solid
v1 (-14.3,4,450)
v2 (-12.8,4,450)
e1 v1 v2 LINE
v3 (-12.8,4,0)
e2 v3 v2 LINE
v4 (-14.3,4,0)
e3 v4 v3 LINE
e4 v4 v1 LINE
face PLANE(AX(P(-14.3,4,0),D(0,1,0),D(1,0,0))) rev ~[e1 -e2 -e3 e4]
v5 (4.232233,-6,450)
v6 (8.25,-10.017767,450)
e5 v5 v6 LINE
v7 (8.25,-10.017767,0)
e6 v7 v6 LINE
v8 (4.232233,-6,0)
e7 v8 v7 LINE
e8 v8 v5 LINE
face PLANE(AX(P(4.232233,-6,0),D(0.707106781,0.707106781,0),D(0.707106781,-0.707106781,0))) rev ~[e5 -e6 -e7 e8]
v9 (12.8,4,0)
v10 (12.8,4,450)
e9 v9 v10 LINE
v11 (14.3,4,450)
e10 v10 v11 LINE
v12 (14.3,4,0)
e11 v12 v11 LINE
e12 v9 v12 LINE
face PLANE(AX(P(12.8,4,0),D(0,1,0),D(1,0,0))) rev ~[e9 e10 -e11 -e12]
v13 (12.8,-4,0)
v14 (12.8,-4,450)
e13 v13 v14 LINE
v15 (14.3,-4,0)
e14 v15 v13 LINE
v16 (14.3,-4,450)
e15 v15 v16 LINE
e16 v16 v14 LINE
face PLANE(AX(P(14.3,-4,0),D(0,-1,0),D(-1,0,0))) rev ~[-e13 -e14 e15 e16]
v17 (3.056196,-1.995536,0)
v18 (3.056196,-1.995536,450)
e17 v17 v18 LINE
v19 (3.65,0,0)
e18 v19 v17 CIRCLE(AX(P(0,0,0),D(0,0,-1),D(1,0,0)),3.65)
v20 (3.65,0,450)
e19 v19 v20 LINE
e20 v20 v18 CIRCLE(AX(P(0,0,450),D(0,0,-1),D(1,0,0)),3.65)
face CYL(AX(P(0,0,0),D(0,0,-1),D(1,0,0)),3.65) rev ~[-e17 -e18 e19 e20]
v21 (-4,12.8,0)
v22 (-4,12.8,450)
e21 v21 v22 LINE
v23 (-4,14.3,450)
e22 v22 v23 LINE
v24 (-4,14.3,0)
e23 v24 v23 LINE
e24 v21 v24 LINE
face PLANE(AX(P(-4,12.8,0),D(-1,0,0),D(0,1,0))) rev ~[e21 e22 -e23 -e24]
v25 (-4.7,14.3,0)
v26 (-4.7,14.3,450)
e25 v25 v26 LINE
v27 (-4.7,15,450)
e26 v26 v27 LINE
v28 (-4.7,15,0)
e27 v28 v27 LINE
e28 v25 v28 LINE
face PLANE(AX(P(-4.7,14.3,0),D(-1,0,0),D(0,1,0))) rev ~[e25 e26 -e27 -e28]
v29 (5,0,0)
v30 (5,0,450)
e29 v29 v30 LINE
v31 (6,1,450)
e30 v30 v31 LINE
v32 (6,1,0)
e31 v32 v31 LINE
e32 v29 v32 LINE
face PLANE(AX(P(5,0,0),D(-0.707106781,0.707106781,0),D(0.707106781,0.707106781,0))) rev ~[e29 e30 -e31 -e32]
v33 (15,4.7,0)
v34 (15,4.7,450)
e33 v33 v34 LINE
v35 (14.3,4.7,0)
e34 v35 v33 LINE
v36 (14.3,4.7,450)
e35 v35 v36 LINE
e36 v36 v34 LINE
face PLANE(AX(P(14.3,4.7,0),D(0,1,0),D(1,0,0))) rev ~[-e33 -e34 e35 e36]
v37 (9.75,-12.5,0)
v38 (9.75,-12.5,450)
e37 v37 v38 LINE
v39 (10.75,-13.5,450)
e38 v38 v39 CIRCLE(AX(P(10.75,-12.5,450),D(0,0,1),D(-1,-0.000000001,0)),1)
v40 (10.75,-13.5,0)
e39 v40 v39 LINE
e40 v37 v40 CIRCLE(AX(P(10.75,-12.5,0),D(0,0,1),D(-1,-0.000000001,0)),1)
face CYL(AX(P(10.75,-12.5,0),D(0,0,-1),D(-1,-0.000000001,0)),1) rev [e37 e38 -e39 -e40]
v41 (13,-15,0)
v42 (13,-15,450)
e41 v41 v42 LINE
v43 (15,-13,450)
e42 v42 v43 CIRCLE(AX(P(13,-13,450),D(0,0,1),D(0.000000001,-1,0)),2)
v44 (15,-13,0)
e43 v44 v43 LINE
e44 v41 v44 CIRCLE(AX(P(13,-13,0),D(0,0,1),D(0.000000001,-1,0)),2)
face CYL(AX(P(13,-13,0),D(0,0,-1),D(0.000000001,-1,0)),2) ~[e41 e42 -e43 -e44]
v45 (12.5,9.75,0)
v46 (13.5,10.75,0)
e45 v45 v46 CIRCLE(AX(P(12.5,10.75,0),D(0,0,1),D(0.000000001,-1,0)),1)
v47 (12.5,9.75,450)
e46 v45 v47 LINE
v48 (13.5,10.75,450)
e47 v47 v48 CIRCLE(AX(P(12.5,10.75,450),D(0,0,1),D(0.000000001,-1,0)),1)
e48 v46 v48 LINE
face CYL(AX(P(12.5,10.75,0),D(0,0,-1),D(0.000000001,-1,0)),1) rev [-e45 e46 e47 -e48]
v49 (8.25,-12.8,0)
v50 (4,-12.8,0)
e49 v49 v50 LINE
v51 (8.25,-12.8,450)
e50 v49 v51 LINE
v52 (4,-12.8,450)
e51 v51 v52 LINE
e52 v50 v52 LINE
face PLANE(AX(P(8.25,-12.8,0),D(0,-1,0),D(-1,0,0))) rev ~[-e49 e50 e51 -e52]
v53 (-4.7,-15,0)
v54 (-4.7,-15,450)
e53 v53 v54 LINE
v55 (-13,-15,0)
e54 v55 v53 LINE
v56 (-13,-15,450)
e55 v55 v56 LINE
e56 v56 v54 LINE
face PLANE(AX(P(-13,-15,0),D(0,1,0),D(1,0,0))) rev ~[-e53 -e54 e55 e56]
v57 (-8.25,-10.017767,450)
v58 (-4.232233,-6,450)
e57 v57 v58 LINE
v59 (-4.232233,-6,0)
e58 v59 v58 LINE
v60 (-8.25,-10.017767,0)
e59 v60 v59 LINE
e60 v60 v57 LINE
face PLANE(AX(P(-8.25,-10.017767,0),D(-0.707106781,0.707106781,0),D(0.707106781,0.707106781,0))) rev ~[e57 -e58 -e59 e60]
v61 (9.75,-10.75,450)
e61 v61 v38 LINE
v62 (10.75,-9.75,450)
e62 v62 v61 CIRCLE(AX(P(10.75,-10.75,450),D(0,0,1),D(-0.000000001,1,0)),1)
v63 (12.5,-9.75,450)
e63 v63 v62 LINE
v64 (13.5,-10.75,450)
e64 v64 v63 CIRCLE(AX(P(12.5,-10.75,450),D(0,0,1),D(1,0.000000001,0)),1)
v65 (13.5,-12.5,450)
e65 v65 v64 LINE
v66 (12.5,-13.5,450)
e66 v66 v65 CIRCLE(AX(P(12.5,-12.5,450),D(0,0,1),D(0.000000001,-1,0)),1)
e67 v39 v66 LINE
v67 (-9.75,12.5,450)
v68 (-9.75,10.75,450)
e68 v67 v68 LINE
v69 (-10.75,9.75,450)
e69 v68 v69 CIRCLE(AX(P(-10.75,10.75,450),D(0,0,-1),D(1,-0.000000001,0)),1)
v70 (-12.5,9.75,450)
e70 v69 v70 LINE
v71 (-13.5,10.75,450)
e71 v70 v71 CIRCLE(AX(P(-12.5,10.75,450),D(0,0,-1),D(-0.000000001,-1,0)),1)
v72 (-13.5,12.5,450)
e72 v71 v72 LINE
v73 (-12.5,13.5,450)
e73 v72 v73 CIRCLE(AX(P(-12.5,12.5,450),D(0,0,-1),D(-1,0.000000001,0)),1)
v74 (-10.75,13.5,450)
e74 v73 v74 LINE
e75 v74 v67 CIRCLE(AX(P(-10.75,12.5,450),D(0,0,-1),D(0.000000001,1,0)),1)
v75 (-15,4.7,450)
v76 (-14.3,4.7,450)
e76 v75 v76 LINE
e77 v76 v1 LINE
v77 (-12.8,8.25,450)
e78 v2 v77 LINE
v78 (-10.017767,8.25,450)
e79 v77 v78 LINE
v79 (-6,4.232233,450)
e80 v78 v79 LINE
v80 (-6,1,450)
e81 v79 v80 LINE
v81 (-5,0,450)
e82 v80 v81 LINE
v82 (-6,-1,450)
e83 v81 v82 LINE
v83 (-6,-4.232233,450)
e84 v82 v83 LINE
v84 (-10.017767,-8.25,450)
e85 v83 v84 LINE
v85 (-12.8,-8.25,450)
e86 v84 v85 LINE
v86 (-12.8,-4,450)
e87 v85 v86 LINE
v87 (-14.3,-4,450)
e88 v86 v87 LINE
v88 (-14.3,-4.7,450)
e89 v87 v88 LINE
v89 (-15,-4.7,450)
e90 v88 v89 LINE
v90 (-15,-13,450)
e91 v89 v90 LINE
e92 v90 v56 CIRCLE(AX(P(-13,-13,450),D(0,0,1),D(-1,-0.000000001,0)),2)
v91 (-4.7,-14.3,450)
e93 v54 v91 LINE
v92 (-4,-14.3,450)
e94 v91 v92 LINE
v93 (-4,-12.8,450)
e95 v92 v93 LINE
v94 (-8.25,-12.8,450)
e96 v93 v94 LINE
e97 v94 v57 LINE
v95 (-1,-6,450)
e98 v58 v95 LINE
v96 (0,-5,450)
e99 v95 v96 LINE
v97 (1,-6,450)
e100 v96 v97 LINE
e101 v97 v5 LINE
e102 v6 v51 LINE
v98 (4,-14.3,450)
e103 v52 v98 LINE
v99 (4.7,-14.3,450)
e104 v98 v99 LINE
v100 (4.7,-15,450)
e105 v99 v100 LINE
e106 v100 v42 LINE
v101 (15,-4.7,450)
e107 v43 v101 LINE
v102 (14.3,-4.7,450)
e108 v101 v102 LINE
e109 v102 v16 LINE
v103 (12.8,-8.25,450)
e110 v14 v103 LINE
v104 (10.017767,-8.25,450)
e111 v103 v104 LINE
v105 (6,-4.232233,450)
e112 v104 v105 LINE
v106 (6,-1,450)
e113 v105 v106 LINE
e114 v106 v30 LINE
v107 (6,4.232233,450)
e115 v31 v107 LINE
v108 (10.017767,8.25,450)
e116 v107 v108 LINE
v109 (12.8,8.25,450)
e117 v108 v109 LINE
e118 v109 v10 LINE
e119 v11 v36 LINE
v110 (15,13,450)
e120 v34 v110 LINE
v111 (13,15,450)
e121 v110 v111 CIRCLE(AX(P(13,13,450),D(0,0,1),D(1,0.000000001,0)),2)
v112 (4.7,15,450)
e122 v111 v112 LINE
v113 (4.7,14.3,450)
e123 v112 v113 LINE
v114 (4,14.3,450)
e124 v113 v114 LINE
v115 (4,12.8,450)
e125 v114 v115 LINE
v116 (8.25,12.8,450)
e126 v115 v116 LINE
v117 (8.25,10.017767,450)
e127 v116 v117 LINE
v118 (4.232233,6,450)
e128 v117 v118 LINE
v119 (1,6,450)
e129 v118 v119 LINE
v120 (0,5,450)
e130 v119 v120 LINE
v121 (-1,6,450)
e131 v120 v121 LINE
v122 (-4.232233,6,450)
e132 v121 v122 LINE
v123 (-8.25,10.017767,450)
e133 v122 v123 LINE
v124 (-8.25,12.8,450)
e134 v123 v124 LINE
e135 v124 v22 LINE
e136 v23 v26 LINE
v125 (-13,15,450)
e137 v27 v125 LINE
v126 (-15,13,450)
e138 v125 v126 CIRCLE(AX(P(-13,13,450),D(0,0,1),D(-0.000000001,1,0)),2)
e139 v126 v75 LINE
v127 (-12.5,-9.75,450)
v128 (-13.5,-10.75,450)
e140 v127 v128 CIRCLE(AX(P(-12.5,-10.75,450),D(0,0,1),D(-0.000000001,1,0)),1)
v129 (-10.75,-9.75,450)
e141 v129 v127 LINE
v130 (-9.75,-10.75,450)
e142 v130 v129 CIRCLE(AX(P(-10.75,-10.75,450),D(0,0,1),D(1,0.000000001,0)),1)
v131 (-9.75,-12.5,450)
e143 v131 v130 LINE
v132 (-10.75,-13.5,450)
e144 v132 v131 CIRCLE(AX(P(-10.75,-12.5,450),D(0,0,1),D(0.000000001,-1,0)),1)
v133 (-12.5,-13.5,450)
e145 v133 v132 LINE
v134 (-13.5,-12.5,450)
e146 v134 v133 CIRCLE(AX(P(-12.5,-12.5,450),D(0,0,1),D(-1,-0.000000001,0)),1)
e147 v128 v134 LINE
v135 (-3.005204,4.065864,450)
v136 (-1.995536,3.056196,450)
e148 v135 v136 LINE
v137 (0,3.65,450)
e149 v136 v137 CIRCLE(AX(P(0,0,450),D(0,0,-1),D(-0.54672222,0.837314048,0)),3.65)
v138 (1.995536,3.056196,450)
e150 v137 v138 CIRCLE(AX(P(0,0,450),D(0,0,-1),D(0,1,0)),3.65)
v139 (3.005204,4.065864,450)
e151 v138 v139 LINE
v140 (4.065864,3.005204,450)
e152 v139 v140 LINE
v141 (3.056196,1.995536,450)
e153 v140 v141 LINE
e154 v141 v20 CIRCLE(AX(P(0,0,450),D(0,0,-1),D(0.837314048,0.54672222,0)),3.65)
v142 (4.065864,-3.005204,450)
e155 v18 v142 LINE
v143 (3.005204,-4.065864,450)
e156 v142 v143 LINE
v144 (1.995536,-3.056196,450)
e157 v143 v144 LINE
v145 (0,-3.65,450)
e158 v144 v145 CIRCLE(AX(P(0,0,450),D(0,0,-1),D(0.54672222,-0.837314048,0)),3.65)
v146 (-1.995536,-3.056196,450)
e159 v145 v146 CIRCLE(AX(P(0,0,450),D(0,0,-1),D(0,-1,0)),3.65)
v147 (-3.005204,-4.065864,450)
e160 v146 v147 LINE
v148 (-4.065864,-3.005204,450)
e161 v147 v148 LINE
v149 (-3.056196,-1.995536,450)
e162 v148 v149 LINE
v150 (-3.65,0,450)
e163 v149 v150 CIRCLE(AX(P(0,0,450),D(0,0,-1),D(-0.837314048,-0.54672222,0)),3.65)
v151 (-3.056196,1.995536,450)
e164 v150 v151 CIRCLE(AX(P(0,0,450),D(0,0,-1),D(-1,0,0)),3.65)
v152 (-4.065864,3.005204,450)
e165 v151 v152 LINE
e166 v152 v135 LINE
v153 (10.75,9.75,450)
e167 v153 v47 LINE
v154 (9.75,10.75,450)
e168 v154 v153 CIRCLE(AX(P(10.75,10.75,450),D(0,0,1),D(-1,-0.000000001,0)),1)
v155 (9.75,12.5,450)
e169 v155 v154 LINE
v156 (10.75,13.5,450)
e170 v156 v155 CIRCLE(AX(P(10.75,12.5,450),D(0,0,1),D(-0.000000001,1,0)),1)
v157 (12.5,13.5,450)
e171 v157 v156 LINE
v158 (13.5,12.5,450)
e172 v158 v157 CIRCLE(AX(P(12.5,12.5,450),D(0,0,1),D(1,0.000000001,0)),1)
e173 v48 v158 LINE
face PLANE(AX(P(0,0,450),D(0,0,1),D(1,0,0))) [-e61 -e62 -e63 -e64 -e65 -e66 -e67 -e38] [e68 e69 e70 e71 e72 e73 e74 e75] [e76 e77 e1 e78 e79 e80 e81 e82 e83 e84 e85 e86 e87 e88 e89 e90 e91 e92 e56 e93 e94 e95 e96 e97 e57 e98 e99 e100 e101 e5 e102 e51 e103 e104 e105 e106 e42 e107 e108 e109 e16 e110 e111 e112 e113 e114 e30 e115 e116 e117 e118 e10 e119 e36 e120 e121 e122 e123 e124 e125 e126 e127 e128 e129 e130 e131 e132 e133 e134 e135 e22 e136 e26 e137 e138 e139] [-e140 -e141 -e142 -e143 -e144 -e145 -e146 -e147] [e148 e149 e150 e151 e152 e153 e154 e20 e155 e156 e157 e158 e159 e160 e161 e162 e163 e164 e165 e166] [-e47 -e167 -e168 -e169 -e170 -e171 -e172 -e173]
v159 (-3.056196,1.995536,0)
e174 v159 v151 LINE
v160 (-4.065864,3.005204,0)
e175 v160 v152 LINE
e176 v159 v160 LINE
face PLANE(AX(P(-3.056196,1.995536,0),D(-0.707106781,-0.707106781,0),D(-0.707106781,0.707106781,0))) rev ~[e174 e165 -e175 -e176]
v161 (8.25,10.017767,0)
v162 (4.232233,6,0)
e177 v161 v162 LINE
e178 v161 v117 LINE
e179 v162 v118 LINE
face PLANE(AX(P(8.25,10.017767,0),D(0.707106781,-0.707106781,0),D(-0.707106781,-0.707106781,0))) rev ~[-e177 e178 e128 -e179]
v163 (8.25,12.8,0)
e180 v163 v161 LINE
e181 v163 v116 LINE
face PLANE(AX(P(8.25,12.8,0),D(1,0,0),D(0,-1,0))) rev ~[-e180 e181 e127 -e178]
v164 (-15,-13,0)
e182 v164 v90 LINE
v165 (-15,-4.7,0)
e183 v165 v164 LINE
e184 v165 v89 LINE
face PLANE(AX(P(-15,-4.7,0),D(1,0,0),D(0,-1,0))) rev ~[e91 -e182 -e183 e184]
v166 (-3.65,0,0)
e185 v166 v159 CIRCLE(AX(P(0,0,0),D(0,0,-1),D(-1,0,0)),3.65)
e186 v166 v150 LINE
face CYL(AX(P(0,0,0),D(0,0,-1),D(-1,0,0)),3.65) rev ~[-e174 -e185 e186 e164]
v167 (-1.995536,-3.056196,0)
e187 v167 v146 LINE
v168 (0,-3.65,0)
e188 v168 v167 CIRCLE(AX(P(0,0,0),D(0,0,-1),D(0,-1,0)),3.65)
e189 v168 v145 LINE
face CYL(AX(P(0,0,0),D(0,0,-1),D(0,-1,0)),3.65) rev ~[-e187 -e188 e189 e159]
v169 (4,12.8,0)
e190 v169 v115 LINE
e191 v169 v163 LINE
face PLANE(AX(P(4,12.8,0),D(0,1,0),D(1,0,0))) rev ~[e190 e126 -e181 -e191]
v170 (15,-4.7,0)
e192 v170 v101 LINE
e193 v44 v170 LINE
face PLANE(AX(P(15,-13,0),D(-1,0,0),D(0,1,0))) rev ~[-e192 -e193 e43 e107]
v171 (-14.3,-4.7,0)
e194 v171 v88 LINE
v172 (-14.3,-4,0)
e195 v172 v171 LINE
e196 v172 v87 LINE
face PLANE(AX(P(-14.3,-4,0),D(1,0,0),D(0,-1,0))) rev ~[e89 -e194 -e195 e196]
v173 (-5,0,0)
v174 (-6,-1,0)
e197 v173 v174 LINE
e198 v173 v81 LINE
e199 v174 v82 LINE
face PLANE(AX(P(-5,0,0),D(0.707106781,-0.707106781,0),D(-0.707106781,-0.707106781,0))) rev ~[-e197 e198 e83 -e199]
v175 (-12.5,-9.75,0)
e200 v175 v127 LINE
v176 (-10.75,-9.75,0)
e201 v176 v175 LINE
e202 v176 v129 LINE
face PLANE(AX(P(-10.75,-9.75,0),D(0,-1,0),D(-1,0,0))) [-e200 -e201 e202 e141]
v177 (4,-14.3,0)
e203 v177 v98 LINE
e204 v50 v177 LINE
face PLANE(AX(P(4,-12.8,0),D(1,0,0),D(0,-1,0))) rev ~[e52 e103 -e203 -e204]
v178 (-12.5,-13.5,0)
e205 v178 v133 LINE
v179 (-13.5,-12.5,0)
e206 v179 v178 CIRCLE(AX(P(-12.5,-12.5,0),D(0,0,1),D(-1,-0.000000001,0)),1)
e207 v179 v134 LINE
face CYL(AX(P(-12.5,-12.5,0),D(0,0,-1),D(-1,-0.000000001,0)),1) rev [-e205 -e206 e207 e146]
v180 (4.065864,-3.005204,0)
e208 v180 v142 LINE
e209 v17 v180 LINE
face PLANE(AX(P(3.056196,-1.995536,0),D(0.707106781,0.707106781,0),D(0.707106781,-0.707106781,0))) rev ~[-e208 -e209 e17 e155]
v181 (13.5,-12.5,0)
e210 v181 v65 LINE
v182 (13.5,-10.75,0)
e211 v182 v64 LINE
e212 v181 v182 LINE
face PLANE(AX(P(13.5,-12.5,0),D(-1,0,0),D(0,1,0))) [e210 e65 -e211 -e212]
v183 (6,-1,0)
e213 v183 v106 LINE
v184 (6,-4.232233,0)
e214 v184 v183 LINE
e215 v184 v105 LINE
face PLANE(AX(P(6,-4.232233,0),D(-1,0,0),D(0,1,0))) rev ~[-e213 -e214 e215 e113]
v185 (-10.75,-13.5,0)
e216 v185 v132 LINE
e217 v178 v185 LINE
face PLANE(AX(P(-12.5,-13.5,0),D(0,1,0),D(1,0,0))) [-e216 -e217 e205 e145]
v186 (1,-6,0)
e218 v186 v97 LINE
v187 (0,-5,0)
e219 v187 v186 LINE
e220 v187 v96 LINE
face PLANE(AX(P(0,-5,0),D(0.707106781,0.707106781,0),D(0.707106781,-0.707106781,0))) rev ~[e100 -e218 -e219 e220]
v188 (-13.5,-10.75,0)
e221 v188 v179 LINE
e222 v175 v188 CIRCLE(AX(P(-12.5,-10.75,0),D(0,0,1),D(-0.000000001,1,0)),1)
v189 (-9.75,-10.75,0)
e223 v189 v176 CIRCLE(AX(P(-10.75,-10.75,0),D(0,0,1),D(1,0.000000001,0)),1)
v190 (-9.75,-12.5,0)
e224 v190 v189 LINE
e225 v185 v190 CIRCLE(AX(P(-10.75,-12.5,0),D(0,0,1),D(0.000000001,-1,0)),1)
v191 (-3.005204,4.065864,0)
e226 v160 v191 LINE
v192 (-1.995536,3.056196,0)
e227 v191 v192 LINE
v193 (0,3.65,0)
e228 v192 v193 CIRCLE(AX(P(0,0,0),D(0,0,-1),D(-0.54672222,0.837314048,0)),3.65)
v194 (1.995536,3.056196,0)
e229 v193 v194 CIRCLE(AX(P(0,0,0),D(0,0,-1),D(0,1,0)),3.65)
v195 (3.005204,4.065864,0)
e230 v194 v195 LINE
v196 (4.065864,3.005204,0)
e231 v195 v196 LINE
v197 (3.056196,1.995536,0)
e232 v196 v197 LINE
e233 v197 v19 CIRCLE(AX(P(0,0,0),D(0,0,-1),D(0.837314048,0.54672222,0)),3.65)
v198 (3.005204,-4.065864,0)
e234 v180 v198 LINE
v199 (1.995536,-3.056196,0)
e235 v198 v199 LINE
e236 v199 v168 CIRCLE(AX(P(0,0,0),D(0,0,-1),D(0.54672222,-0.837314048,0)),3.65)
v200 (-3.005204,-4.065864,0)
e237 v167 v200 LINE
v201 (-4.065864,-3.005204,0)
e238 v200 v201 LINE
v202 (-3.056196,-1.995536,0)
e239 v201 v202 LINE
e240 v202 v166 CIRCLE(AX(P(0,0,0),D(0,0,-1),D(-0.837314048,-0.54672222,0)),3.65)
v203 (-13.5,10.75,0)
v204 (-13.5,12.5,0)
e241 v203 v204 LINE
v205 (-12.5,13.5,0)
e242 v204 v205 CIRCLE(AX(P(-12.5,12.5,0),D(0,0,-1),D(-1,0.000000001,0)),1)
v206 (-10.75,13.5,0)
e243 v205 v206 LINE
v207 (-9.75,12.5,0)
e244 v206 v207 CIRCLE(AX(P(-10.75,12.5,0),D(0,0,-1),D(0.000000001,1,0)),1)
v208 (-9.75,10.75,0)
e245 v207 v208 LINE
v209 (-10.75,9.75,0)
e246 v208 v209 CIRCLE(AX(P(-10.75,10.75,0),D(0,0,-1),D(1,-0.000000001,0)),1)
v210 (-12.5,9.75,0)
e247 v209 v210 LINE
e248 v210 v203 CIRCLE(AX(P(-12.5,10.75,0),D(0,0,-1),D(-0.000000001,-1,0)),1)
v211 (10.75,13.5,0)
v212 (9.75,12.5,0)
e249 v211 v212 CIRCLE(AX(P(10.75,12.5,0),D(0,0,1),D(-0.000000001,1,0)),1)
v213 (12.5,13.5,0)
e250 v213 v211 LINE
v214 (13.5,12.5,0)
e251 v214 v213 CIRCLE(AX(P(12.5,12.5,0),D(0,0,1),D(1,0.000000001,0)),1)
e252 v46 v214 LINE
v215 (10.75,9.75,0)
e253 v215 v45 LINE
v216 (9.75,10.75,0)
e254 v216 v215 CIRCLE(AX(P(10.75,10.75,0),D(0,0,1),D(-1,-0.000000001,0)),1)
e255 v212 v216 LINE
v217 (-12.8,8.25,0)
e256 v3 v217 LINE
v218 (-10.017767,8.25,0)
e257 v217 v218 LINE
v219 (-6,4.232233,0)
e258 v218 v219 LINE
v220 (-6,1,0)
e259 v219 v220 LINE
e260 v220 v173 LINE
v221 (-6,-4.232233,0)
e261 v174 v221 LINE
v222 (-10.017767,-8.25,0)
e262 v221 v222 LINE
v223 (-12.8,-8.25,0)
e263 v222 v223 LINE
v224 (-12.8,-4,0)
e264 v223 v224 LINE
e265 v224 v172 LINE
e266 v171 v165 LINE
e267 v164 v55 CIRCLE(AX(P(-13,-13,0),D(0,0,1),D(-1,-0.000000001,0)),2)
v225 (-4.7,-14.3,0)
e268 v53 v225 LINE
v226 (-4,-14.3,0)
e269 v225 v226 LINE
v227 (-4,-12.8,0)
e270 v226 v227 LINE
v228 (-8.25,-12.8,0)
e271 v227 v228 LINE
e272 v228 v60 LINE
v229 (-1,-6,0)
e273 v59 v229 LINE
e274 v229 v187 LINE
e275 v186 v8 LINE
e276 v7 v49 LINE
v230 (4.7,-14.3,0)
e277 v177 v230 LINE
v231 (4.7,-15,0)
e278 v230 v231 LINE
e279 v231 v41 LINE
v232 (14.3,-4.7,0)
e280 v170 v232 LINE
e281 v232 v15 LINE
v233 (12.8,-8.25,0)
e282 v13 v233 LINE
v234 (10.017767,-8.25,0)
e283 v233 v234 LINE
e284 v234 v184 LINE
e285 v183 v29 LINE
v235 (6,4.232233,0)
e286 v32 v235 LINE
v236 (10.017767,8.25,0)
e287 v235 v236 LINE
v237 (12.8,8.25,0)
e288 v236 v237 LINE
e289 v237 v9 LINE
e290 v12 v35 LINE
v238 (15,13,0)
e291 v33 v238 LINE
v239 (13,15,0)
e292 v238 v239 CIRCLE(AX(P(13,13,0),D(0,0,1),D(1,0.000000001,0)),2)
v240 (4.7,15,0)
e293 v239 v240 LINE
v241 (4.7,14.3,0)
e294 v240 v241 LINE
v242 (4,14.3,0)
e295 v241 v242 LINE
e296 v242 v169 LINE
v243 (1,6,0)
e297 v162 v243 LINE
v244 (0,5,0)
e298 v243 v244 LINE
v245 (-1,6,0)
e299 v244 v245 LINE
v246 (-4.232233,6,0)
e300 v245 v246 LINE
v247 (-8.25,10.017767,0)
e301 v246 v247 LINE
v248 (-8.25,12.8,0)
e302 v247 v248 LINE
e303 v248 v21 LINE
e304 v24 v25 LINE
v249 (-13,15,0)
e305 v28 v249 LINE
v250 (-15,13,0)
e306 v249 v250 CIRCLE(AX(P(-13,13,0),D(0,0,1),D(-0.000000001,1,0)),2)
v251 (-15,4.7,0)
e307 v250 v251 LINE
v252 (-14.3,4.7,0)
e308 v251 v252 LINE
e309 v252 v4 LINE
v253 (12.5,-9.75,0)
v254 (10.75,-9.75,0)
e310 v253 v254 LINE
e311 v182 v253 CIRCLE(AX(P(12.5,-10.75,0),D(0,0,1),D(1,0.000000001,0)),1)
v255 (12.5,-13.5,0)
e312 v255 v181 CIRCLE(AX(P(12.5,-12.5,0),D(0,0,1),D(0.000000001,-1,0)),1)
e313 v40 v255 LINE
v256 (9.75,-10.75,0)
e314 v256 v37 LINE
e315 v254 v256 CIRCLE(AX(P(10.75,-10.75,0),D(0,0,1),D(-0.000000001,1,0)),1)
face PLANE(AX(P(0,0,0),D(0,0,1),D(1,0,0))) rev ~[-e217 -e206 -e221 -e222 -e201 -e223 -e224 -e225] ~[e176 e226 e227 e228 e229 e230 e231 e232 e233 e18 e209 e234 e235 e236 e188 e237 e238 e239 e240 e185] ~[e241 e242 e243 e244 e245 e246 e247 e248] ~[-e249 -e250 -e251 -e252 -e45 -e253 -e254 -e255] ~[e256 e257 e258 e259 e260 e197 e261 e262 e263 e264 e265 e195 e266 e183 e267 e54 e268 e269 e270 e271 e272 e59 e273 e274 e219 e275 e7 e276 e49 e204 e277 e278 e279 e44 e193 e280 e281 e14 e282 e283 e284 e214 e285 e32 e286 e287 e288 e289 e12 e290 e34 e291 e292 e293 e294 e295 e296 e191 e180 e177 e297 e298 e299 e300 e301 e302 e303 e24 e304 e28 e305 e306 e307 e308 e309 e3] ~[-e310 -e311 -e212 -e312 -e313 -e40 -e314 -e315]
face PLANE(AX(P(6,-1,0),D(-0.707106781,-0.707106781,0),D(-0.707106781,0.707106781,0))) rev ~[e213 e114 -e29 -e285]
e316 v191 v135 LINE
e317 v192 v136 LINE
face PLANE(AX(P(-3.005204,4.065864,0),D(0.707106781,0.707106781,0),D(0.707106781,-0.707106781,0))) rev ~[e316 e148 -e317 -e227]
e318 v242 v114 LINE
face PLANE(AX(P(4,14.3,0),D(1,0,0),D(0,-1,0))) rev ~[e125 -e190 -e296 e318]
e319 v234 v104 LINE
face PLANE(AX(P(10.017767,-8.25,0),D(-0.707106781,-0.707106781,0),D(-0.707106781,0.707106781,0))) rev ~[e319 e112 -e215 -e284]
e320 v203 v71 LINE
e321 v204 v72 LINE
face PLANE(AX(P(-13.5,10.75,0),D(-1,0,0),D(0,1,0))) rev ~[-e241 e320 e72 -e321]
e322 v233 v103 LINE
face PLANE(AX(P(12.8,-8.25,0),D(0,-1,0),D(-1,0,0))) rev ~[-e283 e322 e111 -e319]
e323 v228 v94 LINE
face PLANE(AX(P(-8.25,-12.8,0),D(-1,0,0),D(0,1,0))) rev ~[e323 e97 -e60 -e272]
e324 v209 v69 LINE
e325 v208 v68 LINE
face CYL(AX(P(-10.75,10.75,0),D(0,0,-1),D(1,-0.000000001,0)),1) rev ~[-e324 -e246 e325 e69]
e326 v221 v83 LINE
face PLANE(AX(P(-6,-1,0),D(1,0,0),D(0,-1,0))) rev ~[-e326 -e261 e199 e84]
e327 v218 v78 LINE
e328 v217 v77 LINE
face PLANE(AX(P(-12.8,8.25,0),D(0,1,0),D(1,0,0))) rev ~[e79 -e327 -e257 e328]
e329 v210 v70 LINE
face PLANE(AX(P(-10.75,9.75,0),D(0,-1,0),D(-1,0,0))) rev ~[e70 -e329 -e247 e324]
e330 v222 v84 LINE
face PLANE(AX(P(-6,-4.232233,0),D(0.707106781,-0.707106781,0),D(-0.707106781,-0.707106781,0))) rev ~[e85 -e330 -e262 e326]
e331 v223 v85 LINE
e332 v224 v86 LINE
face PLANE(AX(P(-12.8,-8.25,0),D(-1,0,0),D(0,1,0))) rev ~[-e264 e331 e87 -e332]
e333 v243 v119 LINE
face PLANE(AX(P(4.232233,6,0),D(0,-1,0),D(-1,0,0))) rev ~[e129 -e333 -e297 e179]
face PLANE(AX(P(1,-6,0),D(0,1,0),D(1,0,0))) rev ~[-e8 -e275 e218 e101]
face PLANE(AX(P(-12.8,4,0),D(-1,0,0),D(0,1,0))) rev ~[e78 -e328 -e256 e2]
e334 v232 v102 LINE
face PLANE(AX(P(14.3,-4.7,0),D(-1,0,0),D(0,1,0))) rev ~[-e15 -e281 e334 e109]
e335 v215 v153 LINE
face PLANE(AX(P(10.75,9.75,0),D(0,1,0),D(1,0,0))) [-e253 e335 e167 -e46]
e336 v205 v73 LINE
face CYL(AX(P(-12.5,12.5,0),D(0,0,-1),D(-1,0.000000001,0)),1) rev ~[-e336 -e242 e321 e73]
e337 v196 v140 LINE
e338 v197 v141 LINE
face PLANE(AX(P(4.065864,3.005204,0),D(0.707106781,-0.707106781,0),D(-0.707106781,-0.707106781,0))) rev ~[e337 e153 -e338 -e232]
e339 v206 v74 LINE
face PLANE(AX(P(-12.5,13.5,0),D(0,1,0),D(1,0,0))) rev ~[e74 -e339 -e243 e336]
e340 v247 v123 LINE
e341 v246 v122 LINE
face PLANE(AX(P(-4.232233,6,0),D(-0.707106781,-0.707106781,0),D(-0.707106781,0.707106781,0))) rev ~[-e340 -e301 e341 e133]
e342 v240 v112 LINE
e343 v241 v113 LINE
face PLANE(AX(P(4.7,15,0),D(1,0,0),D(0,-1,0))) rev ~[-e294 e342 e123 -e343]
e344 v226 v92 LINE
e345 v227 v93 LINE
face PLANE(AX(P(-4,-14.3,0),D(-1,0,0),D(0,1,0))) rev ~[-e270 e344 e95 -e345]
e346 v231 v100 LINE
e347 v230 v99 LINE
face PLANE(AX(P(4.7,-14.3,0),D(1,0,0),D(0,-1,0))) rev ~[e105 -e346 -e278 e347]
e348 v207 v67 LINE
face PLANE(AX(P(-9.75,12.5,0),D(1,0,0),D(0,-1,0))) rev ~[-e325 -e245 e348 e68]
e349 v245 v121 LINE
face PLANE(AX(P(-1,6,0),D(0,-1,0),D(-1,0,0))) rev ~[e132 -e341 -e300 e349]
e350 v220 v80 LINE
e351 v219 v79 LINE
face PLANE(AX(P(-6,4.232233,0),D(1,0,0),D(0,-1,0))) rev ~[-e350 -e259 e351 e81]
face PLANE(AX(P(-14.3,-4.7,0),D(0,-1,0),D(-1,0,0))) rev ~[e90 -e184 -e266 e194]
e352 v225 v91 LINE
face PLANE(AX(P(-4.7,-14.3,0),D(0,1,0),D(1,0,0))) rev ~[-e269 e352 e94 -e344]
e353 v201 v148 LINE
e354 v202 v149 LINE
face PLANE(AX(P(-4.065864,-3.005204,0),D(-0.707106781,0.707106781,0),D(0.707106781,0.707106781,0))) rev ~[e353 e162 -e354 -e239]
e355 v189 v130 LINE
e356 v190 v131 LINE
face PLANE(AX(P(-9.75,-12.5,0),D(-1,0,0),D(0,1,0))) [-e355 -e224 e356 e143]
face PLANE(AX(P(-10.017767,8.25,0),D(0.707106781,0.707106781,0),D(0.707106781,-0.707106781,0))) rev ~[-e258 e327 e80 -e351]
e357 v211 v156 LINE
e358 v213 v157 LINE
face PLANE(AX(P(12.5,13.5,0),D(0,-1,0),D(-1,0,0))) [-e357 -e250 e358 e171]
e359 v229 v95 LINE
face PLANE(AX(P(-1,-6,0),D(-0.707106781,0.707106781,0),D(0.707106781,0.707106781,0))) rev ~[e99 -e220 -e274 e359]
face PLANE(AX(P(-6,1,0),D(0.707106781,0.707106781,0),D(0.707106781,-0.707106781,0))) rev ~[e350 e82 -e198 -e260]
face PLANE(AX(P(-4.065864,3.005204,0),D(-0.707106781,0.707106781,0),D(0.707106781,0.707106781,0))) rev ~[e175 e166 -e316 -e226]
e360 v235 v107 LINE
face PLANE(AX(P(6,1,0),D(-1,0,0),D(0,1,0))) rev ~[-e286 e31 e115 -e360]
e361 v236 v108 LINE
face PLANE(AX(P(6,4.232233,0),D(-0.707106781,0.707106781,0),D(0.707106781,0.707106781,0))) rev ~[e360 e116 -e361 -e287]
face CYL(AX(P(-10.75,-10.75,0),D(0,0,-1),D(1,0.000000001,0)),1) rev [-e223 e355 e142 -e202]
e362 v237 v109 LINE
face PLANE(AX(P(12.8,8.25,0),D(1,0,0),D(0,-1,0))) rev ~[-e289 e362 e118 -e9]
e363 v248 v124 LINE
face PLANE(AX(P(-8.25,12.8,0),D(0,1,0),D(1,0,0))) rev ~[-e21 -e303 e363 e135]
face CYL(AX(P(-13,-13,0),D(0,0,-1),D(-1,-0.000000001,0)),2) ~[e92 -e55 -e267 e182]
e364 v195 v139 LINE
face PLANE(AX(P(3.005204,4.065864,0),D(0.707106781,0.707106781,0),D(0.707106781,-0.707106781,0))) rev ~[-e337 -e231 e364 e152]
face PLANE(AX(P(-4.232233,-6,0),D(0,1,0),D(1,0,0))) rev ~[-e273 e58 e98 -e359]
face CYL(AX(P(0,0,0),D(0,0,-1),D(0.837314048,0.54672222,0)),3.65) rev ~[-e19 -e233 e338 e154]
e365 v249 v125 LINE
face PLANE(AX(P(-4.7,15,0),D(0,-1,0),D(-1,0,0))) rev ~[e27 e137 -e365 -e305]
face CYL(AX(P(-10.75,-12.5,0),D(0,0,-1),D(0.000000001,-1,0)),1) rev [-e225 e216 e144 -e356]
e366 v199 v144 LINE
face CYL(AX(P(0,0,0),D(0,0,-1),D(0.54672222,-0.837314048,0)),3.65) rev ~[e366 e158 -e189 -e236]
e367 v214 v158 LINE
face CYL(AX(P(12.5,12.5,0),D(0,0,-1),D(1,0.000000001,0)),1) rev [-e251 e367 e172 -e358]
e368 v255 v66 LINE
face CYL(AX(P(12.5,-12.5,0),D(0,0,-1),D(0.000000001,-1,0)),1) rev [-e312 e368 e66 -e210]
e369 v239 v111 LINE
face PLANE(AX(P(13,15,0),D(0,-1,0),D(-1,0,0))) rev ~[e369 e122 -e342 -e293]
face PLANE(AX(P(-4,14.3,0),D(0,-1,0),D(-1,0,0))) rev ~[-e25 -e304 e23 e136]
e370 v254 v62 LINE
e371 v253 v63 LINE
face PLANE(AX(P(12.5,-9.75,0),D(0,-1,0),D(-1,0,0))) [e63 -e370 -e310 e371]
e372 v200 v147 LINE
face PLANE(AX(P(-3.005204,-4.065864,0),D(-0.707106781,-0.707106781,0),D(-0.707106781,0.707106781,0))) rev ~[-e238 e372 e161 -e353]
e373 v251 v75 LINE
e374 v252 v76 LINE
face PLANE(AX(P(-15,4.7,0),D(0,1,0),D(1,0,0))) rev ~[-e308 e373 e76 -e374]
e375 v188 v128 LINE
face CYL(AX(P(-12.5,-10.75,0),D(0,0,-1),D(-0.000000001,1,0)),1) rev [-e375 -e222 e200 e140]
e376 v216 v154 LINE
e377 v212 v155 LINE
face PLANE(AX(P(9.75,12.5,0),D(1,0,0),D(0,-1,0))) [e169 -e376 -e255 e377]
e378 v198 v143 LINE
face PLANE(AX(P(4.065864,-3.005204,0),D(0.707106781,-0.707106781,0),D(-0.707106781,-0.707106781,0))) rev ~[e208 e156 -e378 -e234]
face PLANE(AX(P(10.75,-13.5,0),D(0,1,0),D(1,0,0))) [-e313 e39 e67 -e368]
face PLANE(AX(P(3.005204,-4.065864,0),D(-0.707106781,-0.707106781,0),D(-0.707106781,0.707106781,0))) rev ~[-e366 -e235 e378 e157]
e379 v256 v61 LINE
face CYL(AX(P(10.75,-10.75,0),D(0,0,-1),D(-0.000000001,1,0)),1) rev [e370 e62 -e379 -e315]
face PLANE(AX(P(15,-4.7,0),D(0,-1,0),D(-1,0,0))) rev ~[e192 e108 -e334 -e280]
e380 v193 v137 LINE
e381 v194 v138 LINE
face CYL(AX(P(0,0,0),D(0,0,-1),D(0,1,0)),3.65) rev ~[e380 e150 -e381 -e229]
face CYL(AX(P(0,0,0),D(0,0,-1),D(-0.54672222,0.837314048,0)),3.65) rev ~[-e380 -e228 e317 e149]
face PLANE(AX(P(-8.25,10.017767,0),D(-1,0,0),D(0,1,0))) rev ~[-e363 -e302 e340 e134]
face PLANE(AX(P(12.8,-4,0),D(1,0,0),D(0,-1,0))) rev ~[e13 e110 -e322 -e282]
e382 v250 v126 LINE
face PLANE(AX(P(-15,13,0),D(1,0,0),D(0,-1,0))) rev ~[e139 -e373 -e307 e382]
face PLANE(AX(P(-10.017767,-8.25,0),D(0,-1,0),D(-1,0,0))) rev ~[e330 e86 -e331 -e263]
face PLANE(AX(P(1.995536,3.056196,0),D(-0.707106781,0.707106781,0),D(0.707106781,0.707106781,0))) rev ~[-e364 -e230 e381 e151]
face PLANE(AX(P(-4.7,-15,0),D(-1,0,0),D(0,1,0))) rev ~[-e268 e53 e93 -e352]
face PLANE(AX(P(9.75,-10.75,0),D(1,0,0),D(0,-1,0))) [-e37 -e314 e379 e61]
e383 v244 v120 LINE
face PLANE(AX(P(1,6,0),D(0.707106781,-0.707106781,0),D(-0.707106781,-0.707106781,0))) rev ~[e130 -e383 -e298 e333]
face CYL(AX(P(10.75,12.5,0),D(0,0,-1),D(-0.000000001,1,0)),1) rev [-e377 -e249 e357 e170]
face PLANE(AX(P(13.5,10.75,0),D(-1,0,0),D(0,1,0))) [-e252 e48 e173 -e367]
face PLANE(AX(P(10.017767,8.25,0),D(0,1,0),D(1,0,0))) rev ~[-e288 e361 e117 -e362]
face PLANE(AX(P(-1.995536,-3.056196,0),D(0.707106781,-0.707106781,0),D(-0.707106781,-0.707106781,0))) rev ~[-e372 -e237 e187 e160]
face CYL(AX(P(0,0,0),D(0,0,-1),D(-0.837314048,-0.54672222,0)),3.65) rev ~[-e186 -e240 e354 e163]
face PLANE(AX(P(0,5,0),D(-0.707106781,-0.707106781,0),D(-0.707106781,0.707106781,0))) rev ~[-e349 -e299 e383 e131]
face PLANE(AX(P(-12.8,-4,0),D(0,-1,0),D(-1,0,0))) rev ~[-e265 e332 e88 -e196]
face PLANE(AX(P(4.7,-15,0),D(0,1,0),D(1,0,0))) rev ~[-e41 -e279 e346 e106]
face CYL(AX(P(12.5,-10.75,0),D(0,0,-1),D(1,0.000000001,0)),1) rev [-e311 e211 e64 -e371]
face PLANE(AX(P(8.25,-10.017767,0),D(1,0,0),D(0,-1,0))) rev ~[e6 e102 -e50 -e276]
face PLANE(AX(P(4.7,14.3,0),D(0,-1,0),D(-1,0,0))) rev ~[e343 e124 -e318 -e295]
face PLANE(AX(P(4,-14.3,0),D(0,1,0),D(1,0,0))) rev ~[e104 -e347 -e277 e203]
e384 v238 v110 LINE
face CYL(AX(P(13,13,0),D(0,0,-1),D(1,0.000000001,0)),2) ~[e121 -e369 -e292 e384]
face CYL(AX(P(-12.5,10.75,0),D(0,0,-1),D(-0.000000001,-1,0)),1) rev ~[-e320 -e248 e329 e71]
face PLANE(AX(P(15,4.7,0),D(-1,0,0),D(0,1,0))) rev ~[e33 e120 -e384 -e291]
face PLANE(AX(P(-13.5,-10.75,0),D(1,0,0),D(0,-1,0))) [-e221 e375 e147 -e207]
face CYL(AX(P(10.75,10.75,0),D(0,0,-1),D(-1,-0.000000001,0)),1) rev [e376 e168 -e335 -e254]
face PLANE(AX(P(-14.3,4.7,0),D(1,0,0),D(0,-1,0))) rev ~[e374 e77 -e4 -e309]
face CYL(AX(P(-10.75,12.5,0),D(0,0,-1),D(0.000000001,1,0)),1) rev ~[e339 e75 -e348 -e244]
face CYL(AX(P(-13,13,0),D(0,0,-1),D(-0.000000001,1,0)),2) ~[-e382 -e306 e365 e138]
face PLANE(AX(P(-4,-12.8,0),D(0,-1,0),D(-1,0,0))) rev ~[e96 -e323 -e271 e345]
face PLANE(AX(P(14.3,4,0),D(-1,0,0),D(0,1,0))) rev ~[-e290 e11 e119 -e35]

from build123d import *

# Parameters (mm, degrees)
ESTRUSIONE_ESTRUSIONE2_DEPTH = 450


with BuildPart() as part:
    # Schizzo1 → Estrusione-Estrusione2 (new body)
    with BuildSketch(Plane.XY):
        with BuildLine():
            Line((-15, 13), (-15, 4.7))
            Line((-15, 4.7), (-14.3, 4.7))
            Line((-14.3, 4.7), (-14.3, 4))
            Line((-14.3, 4), (-12.8, 4))
            Line((-12.8, 4), (-12.8, 8.25))
            Line((-12.8, 8.25), (-10.017766953, 8.25))
            Line((-10.017766953, 8.25), (-6, 4.232233047))
            Line((-6, 4.232233047), (-6, 1))
            Line((-6, 1), (-5, 0))
            Line((-5, 0), (-6, -1))
            Line((-6, -1), (-6, -4.232233047))
            Line((-6, -4.232233047), (-10.017766953, -8.25))
            Line((-10.017766953, -8.25), (-12.8, -8.25))
            Line((-12.8, -8.25), (-12.8, -4))
            Line((-12.8, -4), (-14.3, -4))
            Line((-14.3, -4), (-14.3, -4.7))
            Line((-14.3, -4.7), (-15, -4.7))
            Line((-15, -4.7), (-15, -13))
            ThreePointArc((-15, -13), (-14.414213562, -14.414213562), (-13, -15))
            Line((-13, -15), (-4.7, -15))
            Line((-4.7, -15), (-4.7, -14.3))
            Line((-4.7, -14.3), (-4, -14.3))
            Line((-4, -14.3), (-4, -12.8))
            Line((-4, -12.8), (-8.25, -12.8))
            Line((-8.25, -12.8), (-8.25, -10.017766953))
            Line((-8.25, -10.017766953), (-4.232233047, -6))
            Line((-4.232233047, -6), (-1, -6))
            Line((-1, -6), (0, -5))
            Line((0, -5), (1, -6))
            Line((1, -6), (4.232233047, -6))
            Line((4.232233047, -6), (8.25, -10.017766953))
            Line((8.25, -10.017766953), (8.25, -12.8))
            Line((8.25, -12.8), (4, -12.8))
            Line((4, -12.8), (4, -14.3))
            Line((4, -14.3), (4.7, -14.3))
            Line((4.7, -14.3), (4.7, -15))
            Line((4.7, -15), (13, -15))
            ThreePointArc((13, -15), (14.414213562, -14.414213562), (15, -13))
            Line((15, -13), (15, -4.7))
            Line((15, -4.7), (14.3, -4.7))
            Line((14.3, -4.7), (14.3, -4))
            Line((14.3, -4), (12.8, -4))
            Line((12.8, -4), (12.8, -8.25))
            Line((12.8, -8.25), (10.017766953, -8.25))
            Line((10.017766953, -8.25), (6, -4.232233047))
            Line((6, -4.232233047), (6, -1))
            Line((6, -1), (5, 0))
            Line((5, 0), (6, 1))
            Line((6, 1), (6, 4.232233047))
            Line((6, 4.232233047), (10.017766953, 8.25))
            Line((10.017766953, 8.25), (12.8, 8.25))
            Line((12.8, 8.25), (12.8, 4))
            Line((12.8, 4), (14.3, 4))
            Line((14.3, 4), (14.3, 4.7))
            Line((14.3, 4.7), (15, 4.7))
            Line((15, 4.7), (15, 13))
            ThreePointArc((15, 13), (14.414213562, 14.414213562), (13, 15))
            Line((13, 15), (4.7, 15))
            Line((4.7, 15), (4.7, 14.3))
            Line((4.7, 14.3), (4, 14.3))
            Line((4, 14.3), (4, 12.8))
            Line((4, 12.8), (8.25, 12.8))
            Line((8.25, 12.8), (8.25, 10.017766953))
            Line((8.25, 10.017766953), (4.232233047, 6))
            Line((4.232233047, 6), (1, 6))
            Line((1, 6), (0, 5))
            Line((0, 5), (-1, 6))
            Line((-1, 6), (-4.232233047, 6))
            Line((-4.232233047, 6), (-8.25, 10.017766953))
            Line((-8.25, 10.017766953), (-8.25, 12.8))
            Line((-8.25, 12.8), (-4, 12.8))
            Line((-4, 12.8), (-4, 14.3))
            Line((-4, 14.3), (-4.7, 14.3))
            Line((-4.7, 14.3), (-4.7, 15))
            Line((-4.7, 15), (-13, 15))
            ThreePointArc((-13, 15), (-14.414213562, 14.414213562), (-15, 13))
        make_face()
        with BuildLine():
            Line((13.5, 10.75), (13.5, 12.5))
            ThreePointArc((13.5, 12.5), (13.207106781, 13.207106781), (12.5, 13.5))
            Line((12.5, 13.5), (10.75, 13.5))
            ThreePointArc((10.75, 13.5), (10.042893219, 13.207106781), (9.75, 12.5))
            Line((9.75, 12.5), (9.75, 10.75))
            ThreePointArc((9.75, 10.75), (10.042893219, 10.042893219), (10.75, 9.75))
            Line((10.75, 9.75), (12.5, 9.75))
            ThreePointArc((12.5, 9.75), (13.207106781, 10.042893219), (13.5, 10.75))
        make_face(mode=Mode.SUBTRACT)
        with BuildLine():
            Line((10.75, -13.5), (12.5, -13.5))
            ThreePointArc((12.5, -13.5), (13.207106781, -13.207106781), (13.5, -12.5))
            Line((13.5, -12.5), (13.5, -10.75))
            ThreePointArc((13.5, -10.75), (13.207106781, -10.042893219), (12.5, -9.75))
            Line((12.5, -9.75), (10.75, -9.75))
            ThreePointArc((10.75, -9.75), (10.042893219, -10.042893219), (9.75, -10.75))
            Line((9.75, -10.75), (9.75, -12.5))
            ThreePointArc((9.75, -12.5), (10.042893219, -13.207106781), (10.75, -13.5))
        make_face(mode=Mode.SUBTRACT)
        with BuildLine():
            Line((-13.5, -10.75), (-13.5, -12.5))
            ThreePointArc((-13.5, -12.5), (-13.207106781, -13.207106781), (-12.5, -13.5))
            Line((-12.5, -13.5), (-10.75, -13.5))
            ThreePointArc((-10.75, -13.5), (-10.042893219, -13.207106781), (-9.75, -12.5))
            Line((-9.75, -12.5), (-9.75, -10.75))
            ThreePointArc((-9.75, -10.75), (-10.042893219, -10.042893219), (-10.75, -9.75))
            Line((-10.75, -9.75), (-12.5, -9.75))
            ThreePointArc((-12.5, -9.75), (-13.207106781, -10.042893219), (-13.5, -10.75))
        make_face(mode=Mode.SUBTRACT)
        with BuildLine():
            Line((1.995536102, 3.056196274), (3.00520382, 4.065863992))
            Line((3.00520382, 4.065863992), (4.065863992, 3.00520382))
            Line((4.065863992, 3.00520382), (3.056196274, 1.995536102))
            ThreePointArc((3.056196274, 1.995536102), (3.498400806, 1.041005187), (3.65, 0))
            ThreePointArc((3.65, 0), (3.498400806, -1.041005187), (3.056196274, -1.995536102))
            Line((3.056196274, -1.995536102), (4.065863992, -3.00520382))
            Line((4.065863992, -3.00520382), (3.00520382, -4.065863992))
            Line((3.00520382, -4.065863992), (1.995536102, -3.056196274))
            ThreePointArc((1.995536102, -3.056196274), (1.041005187, -3.498400806), (0, -3.65))
            ThreePointArc((0, -3.65), (-1.041005187, -3.498400806), (-1.995536102, -3.056196274))
            Line((-1.995536102, -3.056196274), (-3.00520382, -4.065863992))
            Line((-3.00520382, -4.065863992), (-4.065863992, -3.00520382))
            Line((-4.065863992, -3.00520382), (-3.056196274, -1.995536102))
            ThreePointArc((-3.056196274, -1.995536102), (-3.498400806, -1.041005187), (-3.65, 0))
            ThreePointArc((-3.65, 0), (-3.498400806, 1.041005187), (-3.056196274, 1.995536102))
            Line((-3.056196274, 1.995536102), (-4.065863992, 3.00520382))
            Line((-4.065863992, 3.00520382), (-3.00520382, 4.065863992))
            Line((-3.00520382, 4.065863992), (-1.995536102, 3.056196274))
            ThreePointArc((-1.995536102, 3.056196274), (-1.041005187, 3.498400806), (0, 3.65))
            ThreePointArc((0, 3.65), (1.041005187, 3.498400806), (1.995536102, 3.056196274))
        make_face(mode=Mode.SUBTRACT)
        with BuildLine():
            Line((-10.75, 9.75), (-12.5, 9.75))
            ThreePointArc((-12.5, 9.75), (-13.207106781, 10.042893219), (-13.5, 10.75))
            Line((-13.5, 10.75), (-13.5, 12.5))
            ThreePointArc((-13.5, 12.5), (-13.207106781, 13.207106781), (-12.5, 13.5))
            Line((-12.5, 13.5), (-10.75, 13.5))
            ThreePointArc((-10.75, 13.5), (-10.042893219, 13.207106781), (-9.75, 12.5))
            Line((-9.75, 12.5), (-9.75, 10.75))
            ThreePointArc((-9.75, 10.75), (-10.042893219, 10.042893219), (-10.75, 9.75))
        make_face(mode=Mode.SUBTRACT)
    extrude(amount=ESTRUSIONE_ESTRUSIONE2_DEPTH)


solid = part.part
